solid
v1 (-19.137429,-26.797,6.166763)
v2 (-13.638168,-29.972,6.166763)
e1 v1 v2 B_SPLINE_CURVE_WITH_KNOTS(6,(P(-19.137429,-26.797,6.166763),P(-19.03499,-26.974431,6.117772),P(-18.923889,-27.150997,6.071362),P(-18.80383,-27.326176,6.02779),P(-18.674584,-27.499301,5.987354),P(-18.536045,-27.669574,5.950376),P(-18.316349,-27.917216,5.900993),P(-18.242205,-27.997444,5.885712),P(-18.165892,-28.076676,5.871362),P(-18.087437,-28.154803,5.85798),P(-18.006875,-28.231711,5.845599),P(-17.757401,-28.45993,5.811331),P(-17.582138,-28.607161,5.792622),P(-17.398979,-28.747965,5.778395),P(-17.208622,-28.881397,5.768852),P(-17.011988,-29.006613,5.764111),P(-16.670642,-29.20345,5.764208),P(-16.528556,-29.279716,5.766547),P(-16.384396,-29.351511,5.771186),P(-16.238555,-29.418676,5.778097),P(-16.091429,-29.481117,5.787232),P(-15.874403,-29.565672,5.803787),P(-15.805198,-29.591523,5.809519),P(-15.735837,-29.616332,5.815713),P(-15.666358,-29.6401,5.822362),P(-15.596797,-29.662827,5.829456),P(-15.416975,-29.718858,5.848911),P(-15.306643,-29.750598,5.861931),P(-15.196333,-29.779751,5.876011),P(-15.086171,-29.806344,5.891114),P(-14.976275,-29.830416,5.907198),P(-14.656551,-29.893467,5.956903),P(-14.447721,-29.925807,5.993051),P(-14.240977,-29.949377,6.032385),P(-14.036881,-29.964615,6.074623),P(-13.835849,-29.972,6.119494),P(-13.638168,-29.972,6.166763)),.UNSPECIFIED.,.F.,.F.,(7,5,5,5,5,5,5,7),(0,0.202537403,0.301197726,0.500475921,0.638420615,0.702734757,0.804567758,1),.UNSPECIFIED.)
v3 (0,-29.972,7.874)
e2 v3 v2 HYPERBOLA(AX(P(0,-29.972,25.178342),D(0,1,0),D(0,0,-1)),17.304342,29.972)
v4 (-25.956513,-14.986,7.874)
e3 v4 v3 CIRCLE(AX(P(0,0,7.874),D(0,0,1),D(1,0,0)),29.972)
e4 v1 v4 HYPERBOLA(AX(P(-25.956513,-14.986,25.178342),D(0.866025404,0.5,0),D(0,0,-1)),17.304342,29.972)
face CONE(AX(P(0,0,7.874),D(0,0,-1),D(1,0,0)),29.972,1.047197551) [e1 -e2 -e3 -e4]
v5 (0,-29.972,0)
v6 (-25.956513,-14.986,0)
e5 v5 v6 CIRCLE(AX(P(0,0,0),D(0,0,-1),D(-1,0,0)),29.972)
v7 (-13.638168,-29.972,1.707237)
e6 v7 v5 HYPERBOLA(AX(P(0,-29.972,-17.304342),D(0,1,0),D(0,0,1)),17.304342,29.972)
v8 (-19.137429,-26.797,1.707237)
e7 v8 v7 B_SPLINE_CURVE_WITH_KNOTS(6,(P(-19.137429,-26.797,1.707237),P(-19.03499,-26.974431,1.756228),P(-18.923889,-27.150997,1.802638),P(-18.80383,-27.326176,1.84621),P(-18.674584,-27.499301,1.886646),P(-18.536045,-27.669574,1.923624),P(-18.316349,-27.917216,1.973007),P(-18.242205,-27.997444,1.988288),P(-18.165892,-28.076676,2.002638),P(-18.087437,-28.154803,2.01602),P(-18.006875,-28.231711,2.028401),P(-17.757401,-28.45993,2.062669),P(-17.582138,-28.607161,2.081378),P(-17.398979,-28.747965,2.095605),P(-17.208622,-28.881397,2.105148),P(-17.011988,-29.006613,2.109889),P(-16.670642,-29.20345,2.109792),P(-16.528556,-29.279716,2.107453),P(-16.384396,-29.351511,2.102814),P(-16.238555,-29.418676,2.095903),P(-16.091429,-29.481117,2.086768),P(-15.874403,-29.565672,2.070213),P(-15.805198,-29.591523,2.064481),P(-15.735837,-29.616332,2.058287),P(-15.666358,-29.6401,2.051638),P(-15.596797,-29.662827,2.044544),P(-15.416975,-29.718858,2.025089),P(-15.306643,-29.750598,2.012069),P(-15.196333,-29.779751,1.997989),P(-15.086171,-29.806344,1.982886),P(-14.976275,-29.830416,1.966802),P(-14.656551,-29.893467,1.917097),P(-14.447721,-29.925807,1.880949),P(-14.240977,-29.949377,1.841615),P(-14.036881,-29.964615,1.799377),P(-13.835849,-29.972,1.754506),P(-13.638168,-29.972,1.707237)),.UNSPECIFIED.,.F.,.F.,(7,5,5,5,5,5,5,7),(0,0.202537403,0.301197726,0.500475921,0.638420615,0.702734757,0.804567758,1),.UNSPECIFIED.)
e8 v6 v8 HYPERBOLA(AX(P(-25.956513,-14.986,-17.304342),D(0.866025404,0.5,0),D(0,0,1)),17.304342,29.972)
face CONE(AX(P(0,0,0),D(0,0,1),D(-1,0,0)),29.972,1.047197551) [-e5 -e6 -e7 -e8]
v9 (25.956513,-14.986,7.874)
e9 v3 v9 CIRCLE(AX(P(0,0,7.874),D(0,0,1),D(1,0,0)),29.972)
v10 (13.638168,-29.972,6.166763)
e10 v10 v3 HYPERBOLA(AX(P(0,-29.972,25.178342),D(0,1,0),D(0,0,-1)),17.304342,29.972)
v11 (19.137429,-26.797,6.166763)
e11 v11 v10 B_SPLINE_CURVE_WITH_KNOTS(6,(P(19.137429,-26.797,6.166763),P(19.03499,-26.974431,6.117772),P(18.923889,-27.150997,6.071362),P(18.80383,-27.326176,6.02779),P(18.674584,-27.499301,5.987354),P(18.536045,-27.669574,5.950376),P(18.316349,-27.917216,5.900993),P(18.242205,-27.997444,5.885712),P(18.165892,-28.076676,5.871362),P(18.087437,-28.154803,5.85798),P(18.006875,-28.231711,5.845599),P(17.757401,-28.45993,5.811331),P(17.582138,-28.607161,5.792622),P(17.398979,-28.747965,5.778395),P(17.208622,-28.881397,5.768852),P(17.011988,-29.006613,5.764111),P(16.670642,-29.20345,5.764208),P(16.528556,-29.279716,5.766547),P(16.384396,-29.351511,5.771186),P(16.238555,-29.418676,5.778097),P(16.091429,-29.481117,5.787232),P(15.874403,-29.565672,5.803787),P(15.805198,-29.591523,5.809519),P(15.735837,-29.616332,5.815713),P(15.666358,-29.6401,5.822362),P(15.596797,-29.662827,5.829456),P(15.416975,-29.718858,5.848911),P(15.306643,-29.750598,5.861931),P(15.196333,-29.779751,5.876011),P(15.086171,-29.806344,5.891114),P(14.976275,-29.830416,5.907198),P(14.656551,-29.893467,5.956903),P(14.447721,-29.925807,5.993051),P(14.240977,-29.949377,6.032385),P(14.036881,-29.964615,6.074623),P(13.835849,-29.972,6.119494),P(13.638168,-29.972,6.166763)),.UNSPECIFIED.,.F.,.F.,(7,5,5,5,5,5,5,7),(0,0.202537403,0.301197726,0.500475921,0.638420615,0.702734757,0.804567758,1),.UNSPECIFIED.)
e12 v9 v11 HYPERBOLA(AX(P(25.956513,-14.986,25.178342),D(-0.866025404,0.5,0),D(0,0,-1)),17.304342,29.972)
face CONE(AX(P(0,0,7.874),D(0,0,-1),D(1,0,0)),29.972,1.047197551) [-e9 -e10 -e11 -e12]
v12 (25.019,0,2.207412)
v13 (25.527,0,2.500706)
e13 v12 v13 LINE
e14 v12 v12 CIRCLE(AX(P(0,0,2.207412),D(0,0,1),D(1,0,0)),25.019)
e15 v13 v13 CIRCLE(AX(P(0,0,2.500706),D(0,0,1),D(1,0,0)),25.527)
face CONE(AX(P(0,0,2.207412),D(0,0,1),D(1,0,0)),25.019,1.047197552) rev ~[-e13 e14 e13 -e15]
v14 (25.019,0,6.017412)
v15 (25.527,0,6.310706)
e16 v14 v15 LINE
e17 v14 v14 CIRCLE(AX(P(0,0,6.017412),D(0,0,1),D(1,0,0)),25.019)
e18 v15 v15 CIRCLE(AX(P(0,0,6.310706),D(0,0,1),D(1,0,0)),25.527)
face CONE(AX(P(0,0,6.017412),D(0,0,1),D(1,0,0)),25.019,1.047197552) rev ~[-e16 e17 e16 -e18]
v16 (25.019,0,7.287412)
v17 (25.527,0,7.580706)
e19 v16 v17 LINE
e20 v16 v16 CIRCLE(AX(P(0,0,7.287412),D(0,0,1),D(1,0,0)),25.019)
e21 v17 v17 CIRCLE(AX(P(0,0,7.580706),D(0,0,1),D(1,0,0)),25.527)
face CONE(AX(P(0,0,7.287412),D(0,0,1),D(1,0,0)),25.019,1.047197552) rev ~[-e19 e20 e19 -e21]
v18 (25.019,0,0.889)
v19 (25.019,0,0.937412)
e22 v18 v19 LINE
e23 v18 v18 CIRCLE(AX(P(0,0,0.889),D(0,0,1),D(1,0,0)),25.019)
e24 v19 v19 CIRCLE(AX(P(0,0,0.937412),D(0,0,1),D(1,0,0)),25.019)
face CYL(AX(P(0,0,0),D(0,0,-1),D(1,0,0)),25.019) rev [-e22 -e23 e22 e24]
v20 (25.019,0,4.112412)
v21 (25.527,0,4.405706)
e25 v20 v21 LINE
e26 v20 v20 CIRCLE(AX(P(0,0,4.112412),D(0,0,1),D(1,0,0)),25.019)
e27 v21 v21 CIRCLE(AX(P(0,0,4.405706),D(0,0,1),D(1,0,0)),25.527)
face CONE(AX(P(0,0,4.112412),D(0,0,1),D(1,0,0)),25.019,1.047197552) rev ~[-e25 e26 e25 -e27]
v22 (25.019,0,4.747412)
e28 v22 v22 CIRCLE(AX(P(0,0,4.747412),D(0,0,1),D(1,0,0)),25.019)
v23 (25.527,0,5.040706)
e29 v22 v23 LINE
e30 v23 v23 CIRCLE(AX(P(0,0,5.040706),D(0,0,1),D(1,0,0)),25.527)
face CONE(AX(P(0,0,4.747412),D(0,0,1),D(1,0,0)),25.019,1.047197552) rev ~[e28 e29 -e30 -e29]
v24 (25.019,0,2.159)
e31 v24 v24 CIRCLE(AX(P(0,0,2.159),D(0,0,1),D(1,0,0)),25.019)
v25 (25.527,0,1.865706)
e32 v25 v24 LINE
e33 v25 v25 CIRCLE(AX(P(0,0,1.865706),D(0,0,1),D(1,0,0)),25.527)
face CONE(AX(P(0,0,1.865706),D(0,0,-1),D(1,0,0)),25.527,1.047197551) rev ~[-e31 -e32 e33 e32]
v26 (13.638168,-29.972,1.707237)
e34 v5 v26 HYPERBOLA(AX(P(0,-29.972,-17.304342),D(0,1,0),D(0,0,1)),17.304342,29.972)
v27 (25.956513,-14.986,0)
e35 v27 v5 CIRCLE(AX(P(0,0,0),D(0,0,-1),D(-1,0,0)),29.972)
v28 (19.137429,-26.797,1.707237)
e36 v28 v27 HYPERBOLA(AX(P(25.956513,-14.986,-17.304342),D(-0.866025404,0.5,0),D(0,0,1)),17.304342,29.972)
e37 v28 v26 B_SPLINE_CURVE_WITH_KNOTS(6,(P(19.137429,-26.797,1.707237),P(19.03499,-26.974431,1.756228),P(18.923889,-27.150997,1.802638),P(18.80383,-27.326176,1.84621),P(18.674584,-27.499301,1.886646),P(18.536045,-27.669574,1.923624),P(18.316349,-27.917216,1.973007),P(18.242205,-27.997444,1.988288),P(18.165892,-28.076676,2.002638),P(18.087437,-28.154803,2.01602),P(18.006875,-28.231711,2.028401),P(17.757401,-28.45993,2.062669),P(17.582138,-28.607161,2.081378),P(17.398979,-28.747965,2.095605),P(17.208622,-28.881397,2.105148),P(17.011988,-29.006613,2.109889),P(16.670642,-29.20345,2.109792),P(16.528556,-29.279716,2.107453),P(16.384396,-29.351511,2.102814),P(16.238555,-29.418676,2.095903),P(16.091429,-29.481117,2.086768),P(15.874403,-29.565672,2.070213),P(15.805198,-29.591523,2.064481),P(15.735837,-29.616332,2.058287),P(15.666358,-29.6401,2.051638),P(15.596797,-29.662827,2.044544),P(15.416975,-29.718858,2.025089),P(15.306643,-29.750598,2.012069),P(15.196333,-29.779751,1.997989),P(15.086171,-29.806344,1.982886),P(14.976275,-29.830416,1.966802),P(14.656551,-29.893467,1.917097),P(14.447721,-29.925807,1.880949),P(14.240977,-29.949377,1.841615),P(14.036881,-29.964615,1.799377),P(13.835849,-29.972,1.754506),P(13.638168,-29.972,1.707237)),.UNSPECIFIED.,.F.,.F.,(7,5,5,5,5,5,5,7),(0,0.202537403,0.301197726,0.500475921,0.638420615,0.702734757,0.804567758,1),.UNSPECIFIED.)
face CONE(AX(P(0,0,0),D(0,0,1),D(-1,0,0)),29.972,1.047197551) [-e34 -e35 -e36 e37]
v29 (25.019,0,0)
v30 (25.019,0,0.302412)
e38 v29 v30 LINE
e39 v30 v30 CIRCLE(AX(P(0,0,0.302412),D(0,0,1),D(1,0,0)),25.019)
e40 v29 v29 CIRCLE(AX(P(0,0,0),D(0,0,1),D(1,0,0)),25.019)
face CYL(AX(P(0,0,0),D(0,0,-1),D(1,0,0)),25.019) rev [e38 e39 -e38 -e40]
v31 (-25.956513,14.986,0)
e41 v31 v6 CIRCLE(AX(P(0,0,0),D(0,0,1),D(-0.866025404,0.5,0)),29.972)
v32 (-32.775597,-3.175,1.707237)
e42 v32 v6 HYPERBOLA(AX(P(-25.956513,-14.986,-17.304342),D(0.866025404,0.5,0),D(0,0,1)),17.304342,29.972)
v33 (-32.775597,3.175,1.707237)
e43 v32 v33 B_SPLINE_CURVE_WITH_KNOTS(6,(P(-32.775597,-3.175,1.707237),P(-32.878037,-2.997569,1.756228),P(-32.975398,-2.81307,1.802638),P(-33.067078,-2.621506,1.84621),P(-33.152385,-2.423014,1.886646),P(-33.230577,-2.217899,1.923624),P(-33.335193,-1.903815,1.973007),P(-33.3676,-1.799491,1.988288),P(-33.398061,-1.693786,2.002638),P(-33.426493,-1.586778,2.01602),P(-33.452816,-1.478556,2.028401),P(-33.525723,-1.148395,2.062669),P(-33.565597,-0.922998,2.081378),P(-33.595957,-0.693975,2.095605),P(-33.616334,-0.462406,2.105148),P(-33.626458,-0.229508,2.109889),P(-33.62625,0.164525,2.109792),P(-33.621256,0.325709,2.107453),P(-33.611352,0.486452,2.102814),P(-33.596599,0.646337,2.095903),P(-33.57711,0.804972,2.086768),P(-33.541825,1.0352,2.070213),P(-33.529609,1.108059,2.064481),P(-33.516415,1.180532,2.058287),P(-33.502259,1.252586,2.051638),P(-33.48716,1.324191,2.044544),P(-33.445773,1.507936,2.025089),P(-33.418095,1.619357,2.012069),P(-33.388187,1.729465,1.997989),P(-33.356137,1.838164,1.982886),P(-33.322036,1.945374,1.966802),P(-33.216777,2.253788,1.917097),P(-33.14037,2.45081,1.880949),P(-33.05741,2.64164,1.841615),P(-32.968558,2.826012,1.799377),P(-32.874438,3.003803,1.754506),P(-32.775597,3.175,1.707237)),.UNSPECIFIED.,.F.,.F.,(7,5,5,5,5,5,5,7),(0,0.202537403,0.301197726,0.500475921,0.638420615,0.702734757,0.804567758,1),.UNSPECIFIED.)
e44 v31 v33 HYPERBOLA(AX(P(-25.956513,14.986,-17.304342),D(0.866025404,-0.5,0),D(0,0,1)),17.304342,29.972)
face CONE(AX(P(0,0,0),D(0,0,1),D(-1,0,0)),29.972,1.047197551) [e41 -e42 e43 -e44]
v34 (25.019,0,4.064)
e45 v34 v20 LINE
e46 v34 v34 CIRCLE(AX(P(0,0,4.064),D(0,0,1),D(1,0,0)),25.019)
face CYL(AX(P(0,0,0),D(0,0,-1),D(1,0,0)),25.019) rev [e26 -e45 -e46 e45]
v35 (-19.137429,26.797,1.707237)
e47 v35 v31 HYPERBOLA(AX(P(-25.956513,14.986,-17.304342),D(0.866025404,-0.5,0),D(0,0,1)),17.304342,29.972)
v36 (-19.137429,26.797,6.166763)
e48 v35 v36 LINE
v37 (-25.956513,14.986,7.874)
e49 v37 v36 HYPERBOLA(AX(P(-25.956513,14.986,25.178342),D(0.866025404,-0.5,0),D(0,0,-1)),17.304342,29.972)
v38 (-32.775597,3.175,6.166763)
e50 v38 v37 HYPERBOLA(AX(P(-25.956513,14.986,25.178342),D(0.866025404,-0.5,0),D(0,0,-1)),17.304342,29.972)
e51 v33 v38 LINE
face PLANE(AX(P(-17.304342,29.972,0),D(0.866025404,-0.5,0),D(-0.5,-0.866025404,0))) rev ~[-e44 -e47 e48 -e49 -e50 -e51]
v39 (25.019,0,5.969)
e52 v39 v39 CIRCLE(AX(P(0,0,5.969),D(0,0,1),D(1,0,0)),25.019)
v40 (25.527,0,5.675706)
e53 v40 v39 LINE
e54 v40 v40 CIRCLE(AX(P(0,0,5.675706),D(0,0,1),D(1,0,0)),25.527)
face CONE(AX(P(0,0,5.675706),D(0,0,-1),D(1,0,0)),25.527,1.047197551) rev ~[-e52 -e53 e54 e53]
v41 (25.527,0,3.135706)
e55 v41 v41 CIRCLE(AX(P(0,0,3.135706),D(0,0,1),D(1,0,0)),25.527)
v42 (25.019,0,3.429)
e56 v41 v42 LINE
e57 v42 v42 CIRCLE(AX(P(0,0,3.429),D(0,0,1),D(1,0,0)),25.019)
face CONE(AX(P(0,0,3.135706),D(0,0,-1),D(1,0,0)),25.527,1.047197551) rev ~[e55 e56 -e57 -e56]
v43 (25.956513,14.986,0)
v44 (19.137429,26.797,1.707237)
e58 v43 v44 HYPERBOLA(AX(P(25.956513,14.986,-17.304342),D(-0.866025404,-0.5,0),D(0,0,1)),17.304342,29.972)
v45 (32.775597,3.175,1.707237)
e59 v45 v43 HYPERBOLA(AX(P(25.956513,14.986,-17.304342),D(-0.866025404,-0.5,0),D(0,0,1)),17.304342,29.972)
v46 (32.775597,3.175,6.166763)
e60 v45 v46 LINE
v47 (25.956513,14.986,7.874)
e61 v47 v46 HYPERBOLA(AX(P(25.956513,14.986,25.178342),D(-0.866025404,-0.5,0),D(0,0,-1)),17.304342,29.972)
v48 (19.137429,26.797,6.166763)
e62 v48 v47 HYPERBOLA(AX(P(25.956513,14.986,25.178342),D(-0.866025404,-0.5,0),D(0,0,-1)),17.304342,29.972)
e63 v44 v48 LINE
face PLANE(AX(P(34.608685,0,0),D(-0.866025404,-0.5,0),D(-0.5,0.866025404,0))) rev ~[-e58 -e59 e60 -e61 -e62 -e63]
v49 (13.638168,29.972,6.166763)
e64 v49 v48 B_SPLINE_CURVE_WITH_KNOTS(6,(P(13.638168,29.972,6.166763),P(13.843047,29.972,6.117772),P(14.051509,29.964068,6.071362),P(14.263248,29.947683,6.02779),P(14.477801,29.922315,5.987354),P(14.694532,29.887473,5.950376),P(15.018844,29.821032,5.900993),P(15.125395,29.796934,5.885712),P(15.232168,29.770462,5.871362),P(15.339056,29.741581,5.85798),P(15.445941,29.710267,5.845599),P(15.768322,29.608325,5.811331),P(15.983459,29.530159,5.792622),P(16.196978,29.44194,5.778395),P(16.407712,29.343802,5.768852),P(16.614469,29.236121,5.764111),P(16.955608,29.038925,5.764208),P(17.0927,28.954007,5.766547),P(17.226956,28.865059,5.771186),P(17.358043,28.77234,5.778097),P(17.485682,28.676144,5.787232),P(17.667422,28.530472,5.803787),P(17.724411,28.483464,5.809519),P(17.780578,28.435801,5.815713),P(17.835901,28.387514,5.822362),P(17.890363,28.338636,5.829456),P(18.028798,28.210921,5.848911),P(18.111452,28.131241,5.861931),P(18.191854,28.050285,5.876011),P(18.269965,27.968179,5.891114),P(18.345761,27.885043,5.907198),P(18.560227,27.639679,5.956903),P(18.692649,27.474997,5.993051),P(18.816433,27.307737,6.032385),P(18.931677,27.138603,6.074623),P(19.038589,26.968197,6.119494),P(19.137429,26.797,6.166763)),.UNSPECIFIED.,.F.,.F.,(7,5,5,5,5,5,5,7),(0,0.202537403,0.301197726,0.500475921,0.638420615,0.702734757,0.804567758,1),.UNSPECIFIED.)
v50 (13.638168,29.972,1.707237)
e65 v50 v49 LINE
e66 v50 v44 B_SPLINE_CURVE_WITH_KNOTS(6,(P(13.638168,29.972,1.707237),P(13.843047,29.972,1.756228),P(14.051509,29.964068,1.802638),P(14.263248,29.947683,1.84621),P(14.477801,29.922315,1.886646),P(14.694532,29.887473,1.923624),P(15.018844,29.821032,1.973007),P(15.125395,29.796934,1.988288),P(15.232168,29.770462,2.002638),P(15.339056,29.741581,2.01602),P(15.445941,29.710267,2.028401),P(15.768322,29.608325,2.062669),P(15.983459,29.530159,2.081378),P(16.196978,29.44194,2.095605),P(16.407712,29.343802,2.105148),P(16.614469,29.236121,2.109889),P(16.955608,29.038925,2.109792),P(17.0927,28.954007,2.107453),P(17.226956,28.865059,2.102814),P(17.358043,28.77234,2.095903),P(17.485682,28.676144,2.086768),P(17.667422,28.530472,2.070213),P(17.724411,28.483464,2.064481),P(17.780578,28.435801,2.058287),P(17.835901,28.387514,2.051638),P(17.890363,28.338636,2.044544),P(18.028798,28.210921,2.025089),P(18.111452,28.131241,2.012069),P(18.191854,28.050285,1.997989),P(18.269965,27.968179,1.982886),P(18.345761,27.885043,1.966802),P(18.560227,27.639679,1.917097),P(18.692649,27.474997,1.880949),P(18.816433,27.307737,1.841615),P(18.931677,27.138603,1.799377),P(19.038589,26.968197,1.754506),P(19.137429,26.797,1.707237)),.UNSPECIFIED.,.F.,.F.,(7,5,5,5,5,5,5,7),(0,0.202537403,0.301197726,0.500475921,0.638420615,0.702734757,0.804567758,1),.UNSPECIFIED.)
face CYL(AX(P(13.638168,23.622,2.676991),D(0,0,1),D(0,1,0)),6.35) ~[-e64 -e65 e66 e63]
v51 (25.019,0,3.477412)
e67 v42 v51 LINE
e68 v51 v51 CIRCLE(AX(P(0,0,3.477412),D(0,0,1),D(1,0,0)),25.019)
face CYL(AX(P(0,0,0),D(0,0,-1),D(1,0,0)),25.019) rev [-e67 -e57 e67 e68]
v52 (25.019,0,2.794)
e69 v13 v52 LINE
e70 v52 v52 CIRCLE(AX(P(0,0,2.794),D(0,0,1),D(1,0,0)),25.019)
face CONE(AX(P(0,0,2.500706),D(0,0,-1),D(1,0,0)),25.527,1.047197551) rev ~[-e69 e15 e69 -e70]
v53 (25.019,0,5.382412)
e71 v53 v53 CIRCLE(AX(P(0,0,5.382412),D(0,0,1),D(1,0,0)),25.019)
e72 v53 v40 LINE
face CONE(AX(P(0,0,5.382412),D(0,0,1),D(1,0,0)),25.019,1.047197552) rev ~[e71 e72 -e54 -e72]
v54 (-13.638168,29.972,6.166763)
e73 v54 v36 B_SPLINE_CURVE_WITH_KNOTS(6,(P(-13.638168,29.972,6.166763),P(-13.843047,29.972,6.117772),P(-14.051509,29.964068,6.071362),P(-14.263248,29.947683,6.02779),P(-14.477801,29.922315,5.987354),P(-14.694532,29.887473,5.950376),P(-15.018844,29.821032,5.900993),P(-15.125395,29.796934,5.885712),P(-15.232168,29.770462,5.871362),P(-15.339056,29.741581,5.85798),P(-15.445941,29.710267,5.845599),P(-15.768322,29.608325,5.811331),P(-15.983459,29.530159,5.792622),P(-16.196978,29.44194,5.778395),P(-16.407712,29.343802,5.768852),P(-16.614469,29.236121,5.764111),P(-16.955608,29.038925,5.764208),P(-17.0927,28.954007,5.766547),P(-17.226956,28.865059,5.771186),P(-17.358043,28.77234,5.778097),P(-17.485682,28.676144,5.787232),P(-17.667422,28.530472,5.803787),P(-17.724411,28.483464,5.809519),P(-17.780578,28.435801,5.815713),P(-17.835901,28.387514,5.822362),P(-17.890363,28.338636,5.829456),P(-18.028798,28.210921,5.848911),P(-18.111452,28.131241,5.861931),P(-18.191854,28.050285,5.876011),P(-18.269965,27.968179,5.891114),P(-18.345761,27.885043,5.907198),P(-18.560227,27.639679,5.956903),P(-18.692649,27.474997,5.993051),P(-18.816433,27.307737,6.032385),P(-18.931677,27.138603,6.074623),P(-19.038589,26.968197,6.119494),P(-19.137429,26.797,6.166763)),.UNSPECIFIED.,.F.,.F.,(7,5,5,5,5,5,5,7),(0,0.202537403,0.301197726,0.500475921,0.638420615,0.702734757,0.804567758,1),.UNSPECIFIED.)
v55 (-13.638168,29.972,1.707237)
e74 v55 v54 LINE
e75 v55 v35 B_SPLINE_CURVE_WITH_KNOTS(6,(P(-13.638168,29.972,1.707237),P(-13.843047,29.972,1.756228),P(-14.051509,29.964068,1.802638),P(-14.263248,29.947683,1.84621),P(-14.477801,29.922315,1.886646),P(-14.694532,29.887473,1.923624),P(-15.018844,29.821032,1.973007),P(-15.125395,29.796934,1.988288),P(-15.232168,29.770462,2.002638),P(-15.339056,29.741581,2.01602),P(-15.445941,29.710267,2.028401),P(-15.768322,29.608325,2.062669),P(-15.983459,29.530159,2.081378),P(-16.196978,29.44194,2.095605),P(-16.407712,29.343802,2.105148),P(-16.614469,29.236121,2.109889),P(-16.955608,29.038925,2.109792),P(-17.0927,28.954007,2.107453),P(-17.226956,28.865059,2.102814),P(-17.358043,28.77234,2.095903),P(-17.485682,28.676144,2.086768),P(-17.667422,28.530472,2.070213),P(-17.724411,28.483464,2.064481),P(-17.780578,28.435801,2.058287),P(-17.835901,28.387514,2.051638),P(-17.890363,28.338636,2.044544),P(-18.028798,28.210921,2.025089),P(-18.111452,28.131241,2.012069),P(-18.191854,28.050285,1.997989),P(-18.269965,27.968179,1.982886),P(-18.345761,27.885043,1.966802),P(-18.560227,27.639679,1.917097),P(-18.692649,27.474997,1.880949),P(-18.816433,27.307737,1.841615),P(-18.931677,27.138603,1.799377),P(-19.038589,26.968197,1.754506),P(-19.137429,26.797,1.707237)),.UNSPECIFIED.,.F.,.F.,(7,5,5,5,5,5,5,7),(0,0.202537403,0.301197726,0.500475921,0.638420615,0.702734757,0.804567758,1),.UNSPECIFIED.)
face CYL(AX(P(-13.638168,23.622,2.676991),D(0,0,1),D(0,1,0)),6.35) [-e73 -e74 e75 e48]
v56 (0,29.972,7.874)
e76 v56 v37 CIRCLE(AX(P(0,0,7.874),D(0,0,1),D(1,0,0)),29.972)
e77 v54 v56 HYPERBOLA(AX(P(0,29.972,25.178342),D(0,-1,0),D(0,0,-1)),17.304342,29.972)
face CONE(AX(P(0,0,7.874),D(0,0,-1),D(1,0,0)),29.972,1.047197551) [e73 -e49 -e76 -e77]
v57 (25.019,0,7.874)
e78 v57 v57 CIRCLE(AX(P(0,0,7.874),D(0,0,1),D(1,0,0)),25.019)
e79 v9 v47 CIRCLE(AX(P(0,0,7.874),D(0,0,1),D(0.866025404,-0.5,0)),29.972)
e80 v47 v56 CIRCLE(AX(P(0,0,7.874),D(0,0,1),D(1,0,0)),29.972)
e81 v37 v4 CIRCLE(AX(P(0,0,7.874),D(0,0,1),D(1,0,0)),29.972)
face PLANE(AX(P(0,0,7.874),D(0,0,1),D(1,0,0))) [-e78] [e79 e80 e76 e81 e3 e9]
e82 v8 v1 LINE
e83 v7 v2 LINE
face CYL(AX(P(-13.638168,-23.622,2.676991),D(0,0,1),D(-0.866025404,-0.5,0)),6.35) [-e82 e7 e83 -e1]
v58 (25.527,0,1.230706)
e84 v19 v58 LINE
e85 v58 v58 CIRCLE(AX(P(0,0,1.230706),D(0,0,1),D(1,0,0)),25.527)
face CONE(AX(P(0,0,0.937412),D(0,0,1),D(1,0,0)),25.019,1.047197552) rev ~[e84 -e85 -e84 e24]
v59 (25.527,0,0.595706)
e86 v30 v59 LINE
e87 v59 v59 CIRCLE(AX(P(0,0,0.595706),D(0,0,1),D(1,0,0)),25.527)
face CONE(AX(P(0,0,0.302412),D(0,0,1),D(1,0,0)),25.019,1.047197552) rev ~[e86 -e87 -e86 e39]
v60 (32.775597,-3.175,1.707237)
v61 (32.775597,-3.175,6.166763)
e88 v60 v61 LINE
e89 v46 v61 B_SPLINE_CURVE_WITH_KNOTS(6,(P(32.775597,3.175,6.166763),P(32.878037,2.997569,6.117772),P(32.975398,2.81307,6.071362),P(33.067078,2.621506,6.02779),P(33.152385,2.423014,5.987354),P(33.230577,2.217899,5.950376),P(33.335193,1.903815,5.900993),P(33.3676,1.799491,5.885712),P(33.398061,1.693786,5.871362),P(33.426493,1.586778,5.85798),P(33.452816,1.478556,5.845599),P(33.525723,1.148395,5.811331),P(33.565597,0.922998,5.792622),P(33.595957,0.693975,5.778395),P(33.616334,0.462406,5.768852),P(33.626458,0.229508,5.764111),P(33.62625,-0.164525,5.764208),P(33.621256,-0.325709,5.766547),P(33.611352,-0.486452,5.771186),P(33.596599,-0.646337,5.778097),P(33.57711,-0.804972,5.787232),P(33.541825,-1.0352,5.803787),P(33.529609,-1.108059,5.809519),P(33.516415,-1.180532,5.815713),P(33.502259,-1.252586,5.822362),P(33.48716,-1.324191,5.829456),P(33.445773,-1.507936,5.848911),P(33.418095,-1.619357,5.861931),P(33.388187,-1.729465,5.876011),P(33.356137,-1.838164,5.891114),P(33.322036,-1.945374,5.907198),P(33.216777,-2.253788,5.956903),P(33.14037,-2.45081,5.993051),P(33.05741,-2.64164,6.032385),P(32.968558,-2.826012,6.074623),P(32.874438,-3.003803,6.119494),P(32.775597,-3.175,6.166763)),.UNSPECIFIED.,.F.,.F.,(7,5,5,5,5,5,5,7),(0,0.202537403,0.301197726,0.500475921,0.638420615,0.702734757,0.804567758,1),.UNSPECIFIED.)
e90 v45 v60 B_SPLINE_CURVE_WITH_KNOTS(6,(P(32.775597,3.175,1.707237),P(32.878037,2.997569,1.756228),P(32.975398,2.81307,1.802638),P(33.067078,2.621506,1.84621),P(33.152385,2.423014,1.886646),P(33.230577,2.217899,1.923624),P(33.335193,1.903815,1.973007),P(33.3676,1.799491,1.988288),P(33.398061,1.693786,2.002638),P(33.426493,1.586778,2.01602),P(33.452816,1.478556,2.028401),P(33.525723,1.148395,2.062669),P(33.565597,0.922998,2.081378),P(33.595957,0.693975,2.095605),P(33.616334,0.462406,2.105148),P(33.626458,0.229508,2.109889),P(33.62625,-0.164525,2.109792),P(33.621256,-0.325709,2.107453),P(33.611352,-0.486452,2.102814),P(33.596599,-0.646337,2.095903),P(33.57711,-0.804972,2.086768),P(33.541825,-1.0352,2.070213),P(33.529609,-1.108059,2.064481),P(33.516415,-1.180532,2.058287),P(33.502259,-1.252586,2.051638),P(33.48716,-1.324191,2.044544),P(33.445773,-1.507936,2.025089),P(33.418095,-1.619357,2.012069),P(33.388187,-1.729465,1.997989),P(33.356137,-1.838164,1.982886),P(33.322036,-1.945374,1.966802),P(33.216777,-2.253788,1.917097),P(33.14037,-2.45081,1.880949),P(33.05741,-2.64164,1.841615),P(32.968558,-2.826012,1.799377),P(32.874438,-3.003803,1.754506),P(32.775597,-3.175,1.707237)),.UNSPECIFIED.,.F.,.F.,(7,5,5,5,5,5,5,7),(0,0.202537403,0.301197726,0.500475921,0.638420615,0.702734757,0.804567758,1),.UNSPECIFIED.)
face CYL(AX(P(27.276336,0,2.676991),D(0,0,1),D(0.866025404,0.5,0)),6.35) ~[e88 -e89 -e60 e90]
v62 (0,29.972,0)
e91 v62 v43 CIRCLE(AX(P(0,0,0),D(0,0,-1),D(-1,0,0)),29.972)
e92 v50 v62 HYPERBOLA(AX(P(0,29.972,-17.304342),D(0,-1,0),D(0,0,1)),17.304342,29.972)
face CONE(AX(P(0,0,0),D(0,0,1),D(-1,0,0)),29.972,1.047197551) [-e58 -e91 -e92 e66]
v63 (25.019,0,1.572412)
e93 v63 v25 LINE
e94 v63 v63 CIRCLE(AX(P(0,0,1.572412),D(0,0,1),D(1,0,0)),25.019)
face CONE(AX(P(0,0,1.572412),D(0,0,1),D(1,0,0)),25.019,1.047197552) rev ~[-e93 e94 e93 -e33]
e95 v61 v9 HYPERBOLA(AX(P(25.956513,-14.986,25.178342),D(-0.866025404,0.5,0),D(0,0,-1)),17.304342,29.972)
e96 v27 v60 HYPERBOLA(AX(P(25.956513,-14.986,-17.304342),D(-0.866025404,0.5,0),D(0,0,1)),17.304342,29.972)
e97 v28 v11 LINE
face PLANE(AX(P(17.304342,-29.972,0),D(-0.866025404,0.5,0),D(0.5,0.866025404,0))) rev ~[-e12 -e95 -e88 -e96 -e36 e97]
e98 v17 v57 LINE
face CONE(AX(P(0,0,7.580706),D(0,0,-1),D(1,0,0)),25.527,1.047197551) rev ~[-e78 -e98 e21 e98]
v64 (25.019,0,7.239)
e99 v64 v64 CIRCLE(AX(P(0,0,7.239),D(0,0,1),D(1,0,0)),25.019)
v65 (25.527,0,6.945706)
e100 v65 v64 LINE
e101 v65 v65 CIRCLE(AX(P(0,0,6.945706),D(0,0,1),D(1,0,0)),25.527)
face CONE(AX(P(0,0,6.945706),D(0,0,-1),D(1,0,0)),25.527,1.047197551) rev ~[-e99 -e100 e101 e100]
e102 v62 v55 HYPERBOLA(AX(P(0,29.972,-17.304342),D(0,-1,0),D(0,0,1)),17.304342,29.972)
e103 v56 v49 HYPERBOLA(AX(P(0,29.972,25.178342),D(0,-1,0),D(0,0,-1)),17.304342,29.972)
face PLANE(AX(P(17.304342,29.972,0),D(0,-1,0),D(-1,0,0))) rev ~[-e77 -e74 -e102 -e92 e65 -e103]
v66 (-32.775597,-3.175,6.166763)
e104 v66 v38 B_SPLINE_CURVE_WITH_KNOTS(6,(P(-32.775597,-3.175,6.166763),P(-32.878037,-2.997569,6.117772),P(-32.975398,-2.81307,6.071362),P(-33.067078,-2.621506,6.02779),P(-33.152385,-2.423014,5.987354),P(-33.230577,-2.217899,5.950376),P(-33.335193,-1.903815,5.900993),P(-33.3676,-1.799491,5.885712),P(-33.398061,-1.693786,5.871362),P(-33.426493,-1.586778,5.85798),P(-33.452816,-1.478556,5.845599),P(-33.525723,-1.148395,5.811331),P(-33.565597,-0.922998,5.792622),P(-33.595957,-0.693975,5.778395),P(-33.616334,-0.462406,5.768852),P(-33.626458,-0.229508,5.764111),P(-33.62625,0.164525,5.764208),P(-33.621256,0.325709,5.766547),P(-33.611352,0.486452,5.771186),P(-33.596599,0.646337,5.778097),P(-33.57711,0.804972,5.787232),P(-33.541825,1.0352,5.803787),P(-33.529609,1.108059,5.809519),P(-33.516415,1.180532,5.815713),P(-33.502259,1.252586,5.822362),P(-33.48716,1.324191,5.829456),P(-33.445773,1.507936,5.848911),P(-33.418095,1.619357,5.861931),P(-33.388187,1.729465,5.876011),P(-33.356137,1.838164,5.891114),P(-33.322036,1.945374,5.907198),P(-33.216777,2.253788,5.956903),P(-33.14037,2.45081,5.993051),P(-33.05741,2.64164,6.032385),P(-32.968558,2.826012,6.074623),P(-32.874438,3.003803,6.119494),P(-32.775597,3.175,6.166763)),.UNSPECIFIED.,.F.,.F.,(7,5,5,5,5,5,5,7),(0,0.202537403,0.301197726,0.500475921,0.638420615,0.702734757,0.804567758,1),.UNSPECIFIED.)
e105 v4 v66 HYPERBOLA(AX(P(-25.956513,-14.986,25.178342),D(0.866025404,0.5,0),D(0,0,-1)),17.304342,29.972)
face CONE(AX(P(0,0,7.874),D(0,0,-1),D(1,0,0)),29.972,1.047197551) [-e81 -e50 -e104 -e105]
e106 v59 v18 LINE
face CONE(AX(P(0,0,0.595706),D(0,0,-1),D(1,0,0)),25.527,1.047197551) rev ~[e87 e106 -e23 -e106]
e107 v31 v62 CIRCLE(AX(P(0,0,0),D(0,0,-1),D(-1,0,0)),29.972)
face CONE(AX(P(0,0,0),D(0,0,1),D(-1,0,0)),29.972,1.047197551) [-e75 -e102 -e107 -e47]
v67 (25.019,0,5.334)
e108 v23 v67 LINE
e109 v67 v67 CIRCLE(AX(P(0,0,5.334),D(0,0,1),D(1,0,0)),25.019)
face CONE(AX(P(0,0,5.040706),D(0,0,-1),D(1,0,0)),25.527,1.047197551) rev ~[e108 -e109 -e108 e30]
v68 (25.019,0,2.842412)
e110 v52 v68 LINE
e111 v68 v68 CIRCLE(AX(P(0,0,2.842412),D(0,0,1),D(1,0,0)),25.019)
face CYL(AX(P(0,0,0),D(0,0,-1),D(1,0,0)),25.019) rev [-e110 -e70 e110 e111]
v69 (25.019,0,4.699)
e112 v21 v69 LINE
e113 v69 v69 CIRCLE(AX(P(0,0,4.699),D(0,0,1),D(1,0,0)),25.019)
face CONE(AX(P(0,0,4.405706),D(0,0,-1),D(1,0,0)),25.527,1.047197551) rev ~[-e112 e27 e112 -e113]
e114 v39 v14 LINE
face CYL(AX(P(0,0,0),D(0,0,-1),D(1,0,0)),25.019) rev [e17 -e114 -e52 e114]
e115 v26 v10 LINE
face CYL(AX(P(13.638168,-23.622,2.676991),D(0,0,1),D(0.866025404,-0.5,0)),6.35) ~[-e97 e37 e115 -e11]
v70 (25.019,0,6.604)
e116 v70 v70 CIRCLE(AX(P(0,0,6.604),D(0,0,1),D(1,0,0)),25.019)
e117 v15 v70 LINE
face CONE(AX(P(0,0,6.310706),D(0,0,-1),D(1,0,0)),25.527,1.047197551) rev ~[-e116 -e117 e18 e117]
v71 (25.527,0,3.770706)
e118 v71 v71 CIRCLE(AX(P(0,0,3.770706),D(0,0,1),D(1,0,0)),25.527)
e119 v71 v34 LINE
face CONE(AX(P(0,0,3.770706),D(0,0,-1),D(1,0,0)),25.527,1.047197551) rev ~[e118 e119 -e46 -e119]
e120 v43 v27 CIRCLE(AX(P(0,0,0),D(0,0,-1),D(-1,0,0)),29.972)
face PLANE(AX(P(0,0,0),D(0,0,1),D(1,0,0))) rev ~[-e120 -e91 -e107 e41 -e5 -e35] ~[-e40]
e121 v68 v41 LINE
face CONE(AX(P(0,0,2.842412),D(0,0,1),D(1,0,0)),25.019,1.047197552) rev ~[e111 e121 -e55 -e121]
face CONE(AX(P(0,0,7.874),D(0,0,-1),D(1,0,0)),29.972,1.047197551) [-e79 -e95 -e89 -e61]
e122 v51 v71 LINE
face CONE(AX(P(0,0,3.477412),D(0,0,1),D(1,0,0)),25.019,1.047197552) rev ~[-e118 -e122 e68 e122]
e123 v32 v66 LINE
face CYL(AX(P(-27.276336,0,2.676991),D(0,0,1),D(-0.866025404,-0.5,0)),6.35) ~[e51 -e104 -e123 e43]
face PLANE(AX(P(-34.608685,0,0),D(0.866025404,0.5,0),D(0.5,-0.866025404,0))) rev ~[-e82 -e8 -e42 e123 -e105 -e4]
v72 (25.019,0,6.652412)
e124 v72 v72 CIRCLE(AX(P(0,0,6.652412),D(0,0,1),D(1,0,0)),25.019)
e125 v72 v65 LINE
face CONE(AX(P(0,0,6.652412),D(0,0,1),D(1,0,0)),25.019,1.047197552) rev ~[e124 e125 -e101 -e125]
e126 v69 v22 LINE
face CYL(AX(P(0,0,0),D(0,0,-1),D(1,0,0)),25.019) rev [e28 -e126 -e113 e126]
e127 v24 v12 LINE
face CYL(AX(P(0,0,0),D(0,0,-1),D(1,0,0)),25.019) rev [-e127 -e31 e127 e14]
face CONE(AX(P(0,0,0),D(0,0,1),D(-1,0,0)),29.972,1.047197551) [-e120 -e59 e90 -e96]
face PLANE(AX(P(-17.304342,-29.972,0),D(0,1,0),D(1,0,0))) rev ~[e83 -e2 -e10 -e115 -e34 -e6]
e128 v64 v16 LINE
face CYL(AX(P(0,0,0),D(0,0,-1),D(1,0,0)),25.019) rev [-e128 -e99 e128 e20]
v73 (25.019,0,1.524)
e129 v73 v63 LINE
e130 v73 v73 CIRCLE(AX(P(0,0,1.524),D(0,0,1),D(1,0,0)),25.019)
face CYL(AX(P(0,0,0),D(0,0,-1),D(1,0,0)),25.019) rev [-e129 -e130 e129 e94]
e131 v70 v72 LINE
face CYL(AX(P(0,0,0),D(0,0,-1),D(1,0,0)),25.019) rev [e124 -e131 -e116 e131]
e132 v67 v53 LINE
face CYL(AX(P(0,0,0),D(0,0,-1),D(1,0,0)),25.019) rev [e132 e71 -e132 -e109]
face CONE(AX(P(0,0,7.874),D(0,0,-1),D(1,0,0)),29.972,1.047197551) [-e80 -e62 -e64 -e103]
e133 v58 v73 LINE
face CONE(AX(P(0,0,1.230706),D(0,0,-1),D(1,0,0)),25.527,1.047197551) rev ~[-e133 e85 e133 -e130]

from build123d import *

# Parameters (mm, degrees)
SKETCH1_R          = 25.019
EXTRUDE1_DEPTH     = 7.874
SKETCH2_OUTSIDE_W  = 120.34
SKETCH2_OUTSIDE_H  = 111.066
SKETCH2_OUTSIDE_R  = 29.972
CUT_EXTRUDE1_DEPTH = 8.874
CUT_EXTRUDE1_DRAFT = -60
SKETCH3_OUTSIDE_W  = 120.34
SKETCH3_OUTSIDE_H  = 111.066
SKETCH3_OUTSIDE_R  = 29.972
CUT_EXTRUDE2_DEPTH = 8.874
CUT_EXTRUDE2_DRAFT = -60
FILLET1_R          = 6.35
LPATTERN1_COUNT    = 12
LPATTERN1_PITCH    = 0.635


with BuildPart() as part:
    # Sketch1 → Extrude1 (new body)
    with BuildSketch(Plane.XY):
        Polygon((-34.608684536, 0), (-17.304342268, -29.972), (17.304342268, -29.972), (34.608684536, 0), (17.304342268, 29.972), (-17.304342268, 29.972), align=None)
        Circle(SKETCH1_R, mode=Mode.SUBTRACT)
    extrude(amount=EXTRUDE1_DEPTH)


with BuildPart() as cut_extrude1_tool:
    # Sketch2 outside → Cut-Extrude1 (with draft: the straight prism first)
    with BuildSketch(Plane.XY.offset(7.874)):
        Rectangle(SKETCH2_OUTSIDE_W, SKETCH2_OUTSIDE_H)
        Circle(SKETCH2_OUTSIDE_R, mode=Mode.SUBTRACT)
    extrude(amount=-CUT_EXTRUDE1_DEPTH)
    # Cut-Extrude1: the draft: its side faces are tilted about the plane it starts from
    cut_extrude1_sides = [cut_extrude1_tool.faces().sort_by_distance(p)[0] for p in [
        (0, -55.533, 3.437),
        (60.17, 0, 3.437),
        (0, 55.533, 3.437),
        (-60.17, 0, 3.437),
        (-29.972, 0, 3.437),
    ]]
    draft(cut_extrude1_sides, Plane.XY.offset(7.874), CUT_EXTRUDE1_DRAFT)


with BuildPart() as part_1:
    add(part.part)

    # Cut-Extrude1: cut by cut_extrude1_tool
    add(cut_extrude1_tool.part, mode=Mode.SUBTRACT)


with BuildPart() as cut_extrude2_tool:
    # Sketch3 outside → Cut-Extrude2 (with draft: the straight prism first)
    with BuildSketch(Plane(origin=(0, 0, 0), x_dir=(-1, 0, 0), z_dir=(0, 0, -1))):
        Rectangle(SKETCH3_OUTSIDE_W, SKETCH3_OUTSIDE_H)
        Circle(SKETCH3_OUTSIDE_R, mode=Mode.SUBTRACT)
    extrude(amount=-CUT_EXTRUDE2_DEPTH)
    # Cut-Extrude2: the draft: its side faces are tilted about the plane it starts from
    cut_extrude2_sides = [cut_extrude2_tool.faces().sort_by_distance(p)[0] for p in [
        (0, -55.533, 4.437),
        (-60.17, 0, 4.437),
        (0, 55.533, 4.437),
        (60.17, 0, 4.437),
        (29.972, 0, 4.437),
    ]]
    draft(cut_extrude2_sides, Plane(origin=(0, 0, 0), x_dir=(-1, 0, 0), z_dir=(0, 0, -1)), CUT_EXTRUDE2_DRAFT)


with BuildPart() as part_2:
    add(part_1.part)

    # Cut-Extrude2: cut by cut_extrude2_tool
    add(cut_extrude2_tool.part, mode=Mode.SUBTRACT)

    # Fillet1
    fillet1_edges = [part_2.edges().sort_by_distance(p)[0] for p in [
        (34.608684536, 0, 3.937),
        (17.304342268, -29.972, 3.937),
        (-17.304342268, -29.972, 3.937),
        (-34.608684536, 0, 3.937),
        (-17.304342268, 29.972, 3.937),
        (17.304342268, 29.972, 3.937),
    ]]
    fillet(fillet1_edges, radius=FILLET1_R)

    # Sketch4 → Cut-Revolve1 (revolve, cut)
    with BuildSketch(Plane(origin=(0, 0, 0), x_dir=(1, 0, 0), z_dir=(0, 1, 0)), mode=Mode.PRIVATE) as cut_revolve1_sk:
        Polygon((-25.019, -7.874), (-25.019, -7.287412127), (-25.527, -7.580706063), align=None)
    cut_revolve1 = revolve(cut_revolve1_sk.sketch.rotate(Axis((0, 0, 0), (0, 0, 1)), 180), axis=Axis((0, 0, 0), (0, 0, 1)), mode=Mode.SUBTRACT)  # turned: the seam where the file's is

    # LPattern1: Cut-Revolve1 ×12
    with Locations(*[(0, 0, -i * LPATTERN1_PITCH) for i in range(1, LPATTERN1_COUNT)]):
        add(cut_revolve1, mode=Mode.SUBTRACT)


solid = part_2.part
